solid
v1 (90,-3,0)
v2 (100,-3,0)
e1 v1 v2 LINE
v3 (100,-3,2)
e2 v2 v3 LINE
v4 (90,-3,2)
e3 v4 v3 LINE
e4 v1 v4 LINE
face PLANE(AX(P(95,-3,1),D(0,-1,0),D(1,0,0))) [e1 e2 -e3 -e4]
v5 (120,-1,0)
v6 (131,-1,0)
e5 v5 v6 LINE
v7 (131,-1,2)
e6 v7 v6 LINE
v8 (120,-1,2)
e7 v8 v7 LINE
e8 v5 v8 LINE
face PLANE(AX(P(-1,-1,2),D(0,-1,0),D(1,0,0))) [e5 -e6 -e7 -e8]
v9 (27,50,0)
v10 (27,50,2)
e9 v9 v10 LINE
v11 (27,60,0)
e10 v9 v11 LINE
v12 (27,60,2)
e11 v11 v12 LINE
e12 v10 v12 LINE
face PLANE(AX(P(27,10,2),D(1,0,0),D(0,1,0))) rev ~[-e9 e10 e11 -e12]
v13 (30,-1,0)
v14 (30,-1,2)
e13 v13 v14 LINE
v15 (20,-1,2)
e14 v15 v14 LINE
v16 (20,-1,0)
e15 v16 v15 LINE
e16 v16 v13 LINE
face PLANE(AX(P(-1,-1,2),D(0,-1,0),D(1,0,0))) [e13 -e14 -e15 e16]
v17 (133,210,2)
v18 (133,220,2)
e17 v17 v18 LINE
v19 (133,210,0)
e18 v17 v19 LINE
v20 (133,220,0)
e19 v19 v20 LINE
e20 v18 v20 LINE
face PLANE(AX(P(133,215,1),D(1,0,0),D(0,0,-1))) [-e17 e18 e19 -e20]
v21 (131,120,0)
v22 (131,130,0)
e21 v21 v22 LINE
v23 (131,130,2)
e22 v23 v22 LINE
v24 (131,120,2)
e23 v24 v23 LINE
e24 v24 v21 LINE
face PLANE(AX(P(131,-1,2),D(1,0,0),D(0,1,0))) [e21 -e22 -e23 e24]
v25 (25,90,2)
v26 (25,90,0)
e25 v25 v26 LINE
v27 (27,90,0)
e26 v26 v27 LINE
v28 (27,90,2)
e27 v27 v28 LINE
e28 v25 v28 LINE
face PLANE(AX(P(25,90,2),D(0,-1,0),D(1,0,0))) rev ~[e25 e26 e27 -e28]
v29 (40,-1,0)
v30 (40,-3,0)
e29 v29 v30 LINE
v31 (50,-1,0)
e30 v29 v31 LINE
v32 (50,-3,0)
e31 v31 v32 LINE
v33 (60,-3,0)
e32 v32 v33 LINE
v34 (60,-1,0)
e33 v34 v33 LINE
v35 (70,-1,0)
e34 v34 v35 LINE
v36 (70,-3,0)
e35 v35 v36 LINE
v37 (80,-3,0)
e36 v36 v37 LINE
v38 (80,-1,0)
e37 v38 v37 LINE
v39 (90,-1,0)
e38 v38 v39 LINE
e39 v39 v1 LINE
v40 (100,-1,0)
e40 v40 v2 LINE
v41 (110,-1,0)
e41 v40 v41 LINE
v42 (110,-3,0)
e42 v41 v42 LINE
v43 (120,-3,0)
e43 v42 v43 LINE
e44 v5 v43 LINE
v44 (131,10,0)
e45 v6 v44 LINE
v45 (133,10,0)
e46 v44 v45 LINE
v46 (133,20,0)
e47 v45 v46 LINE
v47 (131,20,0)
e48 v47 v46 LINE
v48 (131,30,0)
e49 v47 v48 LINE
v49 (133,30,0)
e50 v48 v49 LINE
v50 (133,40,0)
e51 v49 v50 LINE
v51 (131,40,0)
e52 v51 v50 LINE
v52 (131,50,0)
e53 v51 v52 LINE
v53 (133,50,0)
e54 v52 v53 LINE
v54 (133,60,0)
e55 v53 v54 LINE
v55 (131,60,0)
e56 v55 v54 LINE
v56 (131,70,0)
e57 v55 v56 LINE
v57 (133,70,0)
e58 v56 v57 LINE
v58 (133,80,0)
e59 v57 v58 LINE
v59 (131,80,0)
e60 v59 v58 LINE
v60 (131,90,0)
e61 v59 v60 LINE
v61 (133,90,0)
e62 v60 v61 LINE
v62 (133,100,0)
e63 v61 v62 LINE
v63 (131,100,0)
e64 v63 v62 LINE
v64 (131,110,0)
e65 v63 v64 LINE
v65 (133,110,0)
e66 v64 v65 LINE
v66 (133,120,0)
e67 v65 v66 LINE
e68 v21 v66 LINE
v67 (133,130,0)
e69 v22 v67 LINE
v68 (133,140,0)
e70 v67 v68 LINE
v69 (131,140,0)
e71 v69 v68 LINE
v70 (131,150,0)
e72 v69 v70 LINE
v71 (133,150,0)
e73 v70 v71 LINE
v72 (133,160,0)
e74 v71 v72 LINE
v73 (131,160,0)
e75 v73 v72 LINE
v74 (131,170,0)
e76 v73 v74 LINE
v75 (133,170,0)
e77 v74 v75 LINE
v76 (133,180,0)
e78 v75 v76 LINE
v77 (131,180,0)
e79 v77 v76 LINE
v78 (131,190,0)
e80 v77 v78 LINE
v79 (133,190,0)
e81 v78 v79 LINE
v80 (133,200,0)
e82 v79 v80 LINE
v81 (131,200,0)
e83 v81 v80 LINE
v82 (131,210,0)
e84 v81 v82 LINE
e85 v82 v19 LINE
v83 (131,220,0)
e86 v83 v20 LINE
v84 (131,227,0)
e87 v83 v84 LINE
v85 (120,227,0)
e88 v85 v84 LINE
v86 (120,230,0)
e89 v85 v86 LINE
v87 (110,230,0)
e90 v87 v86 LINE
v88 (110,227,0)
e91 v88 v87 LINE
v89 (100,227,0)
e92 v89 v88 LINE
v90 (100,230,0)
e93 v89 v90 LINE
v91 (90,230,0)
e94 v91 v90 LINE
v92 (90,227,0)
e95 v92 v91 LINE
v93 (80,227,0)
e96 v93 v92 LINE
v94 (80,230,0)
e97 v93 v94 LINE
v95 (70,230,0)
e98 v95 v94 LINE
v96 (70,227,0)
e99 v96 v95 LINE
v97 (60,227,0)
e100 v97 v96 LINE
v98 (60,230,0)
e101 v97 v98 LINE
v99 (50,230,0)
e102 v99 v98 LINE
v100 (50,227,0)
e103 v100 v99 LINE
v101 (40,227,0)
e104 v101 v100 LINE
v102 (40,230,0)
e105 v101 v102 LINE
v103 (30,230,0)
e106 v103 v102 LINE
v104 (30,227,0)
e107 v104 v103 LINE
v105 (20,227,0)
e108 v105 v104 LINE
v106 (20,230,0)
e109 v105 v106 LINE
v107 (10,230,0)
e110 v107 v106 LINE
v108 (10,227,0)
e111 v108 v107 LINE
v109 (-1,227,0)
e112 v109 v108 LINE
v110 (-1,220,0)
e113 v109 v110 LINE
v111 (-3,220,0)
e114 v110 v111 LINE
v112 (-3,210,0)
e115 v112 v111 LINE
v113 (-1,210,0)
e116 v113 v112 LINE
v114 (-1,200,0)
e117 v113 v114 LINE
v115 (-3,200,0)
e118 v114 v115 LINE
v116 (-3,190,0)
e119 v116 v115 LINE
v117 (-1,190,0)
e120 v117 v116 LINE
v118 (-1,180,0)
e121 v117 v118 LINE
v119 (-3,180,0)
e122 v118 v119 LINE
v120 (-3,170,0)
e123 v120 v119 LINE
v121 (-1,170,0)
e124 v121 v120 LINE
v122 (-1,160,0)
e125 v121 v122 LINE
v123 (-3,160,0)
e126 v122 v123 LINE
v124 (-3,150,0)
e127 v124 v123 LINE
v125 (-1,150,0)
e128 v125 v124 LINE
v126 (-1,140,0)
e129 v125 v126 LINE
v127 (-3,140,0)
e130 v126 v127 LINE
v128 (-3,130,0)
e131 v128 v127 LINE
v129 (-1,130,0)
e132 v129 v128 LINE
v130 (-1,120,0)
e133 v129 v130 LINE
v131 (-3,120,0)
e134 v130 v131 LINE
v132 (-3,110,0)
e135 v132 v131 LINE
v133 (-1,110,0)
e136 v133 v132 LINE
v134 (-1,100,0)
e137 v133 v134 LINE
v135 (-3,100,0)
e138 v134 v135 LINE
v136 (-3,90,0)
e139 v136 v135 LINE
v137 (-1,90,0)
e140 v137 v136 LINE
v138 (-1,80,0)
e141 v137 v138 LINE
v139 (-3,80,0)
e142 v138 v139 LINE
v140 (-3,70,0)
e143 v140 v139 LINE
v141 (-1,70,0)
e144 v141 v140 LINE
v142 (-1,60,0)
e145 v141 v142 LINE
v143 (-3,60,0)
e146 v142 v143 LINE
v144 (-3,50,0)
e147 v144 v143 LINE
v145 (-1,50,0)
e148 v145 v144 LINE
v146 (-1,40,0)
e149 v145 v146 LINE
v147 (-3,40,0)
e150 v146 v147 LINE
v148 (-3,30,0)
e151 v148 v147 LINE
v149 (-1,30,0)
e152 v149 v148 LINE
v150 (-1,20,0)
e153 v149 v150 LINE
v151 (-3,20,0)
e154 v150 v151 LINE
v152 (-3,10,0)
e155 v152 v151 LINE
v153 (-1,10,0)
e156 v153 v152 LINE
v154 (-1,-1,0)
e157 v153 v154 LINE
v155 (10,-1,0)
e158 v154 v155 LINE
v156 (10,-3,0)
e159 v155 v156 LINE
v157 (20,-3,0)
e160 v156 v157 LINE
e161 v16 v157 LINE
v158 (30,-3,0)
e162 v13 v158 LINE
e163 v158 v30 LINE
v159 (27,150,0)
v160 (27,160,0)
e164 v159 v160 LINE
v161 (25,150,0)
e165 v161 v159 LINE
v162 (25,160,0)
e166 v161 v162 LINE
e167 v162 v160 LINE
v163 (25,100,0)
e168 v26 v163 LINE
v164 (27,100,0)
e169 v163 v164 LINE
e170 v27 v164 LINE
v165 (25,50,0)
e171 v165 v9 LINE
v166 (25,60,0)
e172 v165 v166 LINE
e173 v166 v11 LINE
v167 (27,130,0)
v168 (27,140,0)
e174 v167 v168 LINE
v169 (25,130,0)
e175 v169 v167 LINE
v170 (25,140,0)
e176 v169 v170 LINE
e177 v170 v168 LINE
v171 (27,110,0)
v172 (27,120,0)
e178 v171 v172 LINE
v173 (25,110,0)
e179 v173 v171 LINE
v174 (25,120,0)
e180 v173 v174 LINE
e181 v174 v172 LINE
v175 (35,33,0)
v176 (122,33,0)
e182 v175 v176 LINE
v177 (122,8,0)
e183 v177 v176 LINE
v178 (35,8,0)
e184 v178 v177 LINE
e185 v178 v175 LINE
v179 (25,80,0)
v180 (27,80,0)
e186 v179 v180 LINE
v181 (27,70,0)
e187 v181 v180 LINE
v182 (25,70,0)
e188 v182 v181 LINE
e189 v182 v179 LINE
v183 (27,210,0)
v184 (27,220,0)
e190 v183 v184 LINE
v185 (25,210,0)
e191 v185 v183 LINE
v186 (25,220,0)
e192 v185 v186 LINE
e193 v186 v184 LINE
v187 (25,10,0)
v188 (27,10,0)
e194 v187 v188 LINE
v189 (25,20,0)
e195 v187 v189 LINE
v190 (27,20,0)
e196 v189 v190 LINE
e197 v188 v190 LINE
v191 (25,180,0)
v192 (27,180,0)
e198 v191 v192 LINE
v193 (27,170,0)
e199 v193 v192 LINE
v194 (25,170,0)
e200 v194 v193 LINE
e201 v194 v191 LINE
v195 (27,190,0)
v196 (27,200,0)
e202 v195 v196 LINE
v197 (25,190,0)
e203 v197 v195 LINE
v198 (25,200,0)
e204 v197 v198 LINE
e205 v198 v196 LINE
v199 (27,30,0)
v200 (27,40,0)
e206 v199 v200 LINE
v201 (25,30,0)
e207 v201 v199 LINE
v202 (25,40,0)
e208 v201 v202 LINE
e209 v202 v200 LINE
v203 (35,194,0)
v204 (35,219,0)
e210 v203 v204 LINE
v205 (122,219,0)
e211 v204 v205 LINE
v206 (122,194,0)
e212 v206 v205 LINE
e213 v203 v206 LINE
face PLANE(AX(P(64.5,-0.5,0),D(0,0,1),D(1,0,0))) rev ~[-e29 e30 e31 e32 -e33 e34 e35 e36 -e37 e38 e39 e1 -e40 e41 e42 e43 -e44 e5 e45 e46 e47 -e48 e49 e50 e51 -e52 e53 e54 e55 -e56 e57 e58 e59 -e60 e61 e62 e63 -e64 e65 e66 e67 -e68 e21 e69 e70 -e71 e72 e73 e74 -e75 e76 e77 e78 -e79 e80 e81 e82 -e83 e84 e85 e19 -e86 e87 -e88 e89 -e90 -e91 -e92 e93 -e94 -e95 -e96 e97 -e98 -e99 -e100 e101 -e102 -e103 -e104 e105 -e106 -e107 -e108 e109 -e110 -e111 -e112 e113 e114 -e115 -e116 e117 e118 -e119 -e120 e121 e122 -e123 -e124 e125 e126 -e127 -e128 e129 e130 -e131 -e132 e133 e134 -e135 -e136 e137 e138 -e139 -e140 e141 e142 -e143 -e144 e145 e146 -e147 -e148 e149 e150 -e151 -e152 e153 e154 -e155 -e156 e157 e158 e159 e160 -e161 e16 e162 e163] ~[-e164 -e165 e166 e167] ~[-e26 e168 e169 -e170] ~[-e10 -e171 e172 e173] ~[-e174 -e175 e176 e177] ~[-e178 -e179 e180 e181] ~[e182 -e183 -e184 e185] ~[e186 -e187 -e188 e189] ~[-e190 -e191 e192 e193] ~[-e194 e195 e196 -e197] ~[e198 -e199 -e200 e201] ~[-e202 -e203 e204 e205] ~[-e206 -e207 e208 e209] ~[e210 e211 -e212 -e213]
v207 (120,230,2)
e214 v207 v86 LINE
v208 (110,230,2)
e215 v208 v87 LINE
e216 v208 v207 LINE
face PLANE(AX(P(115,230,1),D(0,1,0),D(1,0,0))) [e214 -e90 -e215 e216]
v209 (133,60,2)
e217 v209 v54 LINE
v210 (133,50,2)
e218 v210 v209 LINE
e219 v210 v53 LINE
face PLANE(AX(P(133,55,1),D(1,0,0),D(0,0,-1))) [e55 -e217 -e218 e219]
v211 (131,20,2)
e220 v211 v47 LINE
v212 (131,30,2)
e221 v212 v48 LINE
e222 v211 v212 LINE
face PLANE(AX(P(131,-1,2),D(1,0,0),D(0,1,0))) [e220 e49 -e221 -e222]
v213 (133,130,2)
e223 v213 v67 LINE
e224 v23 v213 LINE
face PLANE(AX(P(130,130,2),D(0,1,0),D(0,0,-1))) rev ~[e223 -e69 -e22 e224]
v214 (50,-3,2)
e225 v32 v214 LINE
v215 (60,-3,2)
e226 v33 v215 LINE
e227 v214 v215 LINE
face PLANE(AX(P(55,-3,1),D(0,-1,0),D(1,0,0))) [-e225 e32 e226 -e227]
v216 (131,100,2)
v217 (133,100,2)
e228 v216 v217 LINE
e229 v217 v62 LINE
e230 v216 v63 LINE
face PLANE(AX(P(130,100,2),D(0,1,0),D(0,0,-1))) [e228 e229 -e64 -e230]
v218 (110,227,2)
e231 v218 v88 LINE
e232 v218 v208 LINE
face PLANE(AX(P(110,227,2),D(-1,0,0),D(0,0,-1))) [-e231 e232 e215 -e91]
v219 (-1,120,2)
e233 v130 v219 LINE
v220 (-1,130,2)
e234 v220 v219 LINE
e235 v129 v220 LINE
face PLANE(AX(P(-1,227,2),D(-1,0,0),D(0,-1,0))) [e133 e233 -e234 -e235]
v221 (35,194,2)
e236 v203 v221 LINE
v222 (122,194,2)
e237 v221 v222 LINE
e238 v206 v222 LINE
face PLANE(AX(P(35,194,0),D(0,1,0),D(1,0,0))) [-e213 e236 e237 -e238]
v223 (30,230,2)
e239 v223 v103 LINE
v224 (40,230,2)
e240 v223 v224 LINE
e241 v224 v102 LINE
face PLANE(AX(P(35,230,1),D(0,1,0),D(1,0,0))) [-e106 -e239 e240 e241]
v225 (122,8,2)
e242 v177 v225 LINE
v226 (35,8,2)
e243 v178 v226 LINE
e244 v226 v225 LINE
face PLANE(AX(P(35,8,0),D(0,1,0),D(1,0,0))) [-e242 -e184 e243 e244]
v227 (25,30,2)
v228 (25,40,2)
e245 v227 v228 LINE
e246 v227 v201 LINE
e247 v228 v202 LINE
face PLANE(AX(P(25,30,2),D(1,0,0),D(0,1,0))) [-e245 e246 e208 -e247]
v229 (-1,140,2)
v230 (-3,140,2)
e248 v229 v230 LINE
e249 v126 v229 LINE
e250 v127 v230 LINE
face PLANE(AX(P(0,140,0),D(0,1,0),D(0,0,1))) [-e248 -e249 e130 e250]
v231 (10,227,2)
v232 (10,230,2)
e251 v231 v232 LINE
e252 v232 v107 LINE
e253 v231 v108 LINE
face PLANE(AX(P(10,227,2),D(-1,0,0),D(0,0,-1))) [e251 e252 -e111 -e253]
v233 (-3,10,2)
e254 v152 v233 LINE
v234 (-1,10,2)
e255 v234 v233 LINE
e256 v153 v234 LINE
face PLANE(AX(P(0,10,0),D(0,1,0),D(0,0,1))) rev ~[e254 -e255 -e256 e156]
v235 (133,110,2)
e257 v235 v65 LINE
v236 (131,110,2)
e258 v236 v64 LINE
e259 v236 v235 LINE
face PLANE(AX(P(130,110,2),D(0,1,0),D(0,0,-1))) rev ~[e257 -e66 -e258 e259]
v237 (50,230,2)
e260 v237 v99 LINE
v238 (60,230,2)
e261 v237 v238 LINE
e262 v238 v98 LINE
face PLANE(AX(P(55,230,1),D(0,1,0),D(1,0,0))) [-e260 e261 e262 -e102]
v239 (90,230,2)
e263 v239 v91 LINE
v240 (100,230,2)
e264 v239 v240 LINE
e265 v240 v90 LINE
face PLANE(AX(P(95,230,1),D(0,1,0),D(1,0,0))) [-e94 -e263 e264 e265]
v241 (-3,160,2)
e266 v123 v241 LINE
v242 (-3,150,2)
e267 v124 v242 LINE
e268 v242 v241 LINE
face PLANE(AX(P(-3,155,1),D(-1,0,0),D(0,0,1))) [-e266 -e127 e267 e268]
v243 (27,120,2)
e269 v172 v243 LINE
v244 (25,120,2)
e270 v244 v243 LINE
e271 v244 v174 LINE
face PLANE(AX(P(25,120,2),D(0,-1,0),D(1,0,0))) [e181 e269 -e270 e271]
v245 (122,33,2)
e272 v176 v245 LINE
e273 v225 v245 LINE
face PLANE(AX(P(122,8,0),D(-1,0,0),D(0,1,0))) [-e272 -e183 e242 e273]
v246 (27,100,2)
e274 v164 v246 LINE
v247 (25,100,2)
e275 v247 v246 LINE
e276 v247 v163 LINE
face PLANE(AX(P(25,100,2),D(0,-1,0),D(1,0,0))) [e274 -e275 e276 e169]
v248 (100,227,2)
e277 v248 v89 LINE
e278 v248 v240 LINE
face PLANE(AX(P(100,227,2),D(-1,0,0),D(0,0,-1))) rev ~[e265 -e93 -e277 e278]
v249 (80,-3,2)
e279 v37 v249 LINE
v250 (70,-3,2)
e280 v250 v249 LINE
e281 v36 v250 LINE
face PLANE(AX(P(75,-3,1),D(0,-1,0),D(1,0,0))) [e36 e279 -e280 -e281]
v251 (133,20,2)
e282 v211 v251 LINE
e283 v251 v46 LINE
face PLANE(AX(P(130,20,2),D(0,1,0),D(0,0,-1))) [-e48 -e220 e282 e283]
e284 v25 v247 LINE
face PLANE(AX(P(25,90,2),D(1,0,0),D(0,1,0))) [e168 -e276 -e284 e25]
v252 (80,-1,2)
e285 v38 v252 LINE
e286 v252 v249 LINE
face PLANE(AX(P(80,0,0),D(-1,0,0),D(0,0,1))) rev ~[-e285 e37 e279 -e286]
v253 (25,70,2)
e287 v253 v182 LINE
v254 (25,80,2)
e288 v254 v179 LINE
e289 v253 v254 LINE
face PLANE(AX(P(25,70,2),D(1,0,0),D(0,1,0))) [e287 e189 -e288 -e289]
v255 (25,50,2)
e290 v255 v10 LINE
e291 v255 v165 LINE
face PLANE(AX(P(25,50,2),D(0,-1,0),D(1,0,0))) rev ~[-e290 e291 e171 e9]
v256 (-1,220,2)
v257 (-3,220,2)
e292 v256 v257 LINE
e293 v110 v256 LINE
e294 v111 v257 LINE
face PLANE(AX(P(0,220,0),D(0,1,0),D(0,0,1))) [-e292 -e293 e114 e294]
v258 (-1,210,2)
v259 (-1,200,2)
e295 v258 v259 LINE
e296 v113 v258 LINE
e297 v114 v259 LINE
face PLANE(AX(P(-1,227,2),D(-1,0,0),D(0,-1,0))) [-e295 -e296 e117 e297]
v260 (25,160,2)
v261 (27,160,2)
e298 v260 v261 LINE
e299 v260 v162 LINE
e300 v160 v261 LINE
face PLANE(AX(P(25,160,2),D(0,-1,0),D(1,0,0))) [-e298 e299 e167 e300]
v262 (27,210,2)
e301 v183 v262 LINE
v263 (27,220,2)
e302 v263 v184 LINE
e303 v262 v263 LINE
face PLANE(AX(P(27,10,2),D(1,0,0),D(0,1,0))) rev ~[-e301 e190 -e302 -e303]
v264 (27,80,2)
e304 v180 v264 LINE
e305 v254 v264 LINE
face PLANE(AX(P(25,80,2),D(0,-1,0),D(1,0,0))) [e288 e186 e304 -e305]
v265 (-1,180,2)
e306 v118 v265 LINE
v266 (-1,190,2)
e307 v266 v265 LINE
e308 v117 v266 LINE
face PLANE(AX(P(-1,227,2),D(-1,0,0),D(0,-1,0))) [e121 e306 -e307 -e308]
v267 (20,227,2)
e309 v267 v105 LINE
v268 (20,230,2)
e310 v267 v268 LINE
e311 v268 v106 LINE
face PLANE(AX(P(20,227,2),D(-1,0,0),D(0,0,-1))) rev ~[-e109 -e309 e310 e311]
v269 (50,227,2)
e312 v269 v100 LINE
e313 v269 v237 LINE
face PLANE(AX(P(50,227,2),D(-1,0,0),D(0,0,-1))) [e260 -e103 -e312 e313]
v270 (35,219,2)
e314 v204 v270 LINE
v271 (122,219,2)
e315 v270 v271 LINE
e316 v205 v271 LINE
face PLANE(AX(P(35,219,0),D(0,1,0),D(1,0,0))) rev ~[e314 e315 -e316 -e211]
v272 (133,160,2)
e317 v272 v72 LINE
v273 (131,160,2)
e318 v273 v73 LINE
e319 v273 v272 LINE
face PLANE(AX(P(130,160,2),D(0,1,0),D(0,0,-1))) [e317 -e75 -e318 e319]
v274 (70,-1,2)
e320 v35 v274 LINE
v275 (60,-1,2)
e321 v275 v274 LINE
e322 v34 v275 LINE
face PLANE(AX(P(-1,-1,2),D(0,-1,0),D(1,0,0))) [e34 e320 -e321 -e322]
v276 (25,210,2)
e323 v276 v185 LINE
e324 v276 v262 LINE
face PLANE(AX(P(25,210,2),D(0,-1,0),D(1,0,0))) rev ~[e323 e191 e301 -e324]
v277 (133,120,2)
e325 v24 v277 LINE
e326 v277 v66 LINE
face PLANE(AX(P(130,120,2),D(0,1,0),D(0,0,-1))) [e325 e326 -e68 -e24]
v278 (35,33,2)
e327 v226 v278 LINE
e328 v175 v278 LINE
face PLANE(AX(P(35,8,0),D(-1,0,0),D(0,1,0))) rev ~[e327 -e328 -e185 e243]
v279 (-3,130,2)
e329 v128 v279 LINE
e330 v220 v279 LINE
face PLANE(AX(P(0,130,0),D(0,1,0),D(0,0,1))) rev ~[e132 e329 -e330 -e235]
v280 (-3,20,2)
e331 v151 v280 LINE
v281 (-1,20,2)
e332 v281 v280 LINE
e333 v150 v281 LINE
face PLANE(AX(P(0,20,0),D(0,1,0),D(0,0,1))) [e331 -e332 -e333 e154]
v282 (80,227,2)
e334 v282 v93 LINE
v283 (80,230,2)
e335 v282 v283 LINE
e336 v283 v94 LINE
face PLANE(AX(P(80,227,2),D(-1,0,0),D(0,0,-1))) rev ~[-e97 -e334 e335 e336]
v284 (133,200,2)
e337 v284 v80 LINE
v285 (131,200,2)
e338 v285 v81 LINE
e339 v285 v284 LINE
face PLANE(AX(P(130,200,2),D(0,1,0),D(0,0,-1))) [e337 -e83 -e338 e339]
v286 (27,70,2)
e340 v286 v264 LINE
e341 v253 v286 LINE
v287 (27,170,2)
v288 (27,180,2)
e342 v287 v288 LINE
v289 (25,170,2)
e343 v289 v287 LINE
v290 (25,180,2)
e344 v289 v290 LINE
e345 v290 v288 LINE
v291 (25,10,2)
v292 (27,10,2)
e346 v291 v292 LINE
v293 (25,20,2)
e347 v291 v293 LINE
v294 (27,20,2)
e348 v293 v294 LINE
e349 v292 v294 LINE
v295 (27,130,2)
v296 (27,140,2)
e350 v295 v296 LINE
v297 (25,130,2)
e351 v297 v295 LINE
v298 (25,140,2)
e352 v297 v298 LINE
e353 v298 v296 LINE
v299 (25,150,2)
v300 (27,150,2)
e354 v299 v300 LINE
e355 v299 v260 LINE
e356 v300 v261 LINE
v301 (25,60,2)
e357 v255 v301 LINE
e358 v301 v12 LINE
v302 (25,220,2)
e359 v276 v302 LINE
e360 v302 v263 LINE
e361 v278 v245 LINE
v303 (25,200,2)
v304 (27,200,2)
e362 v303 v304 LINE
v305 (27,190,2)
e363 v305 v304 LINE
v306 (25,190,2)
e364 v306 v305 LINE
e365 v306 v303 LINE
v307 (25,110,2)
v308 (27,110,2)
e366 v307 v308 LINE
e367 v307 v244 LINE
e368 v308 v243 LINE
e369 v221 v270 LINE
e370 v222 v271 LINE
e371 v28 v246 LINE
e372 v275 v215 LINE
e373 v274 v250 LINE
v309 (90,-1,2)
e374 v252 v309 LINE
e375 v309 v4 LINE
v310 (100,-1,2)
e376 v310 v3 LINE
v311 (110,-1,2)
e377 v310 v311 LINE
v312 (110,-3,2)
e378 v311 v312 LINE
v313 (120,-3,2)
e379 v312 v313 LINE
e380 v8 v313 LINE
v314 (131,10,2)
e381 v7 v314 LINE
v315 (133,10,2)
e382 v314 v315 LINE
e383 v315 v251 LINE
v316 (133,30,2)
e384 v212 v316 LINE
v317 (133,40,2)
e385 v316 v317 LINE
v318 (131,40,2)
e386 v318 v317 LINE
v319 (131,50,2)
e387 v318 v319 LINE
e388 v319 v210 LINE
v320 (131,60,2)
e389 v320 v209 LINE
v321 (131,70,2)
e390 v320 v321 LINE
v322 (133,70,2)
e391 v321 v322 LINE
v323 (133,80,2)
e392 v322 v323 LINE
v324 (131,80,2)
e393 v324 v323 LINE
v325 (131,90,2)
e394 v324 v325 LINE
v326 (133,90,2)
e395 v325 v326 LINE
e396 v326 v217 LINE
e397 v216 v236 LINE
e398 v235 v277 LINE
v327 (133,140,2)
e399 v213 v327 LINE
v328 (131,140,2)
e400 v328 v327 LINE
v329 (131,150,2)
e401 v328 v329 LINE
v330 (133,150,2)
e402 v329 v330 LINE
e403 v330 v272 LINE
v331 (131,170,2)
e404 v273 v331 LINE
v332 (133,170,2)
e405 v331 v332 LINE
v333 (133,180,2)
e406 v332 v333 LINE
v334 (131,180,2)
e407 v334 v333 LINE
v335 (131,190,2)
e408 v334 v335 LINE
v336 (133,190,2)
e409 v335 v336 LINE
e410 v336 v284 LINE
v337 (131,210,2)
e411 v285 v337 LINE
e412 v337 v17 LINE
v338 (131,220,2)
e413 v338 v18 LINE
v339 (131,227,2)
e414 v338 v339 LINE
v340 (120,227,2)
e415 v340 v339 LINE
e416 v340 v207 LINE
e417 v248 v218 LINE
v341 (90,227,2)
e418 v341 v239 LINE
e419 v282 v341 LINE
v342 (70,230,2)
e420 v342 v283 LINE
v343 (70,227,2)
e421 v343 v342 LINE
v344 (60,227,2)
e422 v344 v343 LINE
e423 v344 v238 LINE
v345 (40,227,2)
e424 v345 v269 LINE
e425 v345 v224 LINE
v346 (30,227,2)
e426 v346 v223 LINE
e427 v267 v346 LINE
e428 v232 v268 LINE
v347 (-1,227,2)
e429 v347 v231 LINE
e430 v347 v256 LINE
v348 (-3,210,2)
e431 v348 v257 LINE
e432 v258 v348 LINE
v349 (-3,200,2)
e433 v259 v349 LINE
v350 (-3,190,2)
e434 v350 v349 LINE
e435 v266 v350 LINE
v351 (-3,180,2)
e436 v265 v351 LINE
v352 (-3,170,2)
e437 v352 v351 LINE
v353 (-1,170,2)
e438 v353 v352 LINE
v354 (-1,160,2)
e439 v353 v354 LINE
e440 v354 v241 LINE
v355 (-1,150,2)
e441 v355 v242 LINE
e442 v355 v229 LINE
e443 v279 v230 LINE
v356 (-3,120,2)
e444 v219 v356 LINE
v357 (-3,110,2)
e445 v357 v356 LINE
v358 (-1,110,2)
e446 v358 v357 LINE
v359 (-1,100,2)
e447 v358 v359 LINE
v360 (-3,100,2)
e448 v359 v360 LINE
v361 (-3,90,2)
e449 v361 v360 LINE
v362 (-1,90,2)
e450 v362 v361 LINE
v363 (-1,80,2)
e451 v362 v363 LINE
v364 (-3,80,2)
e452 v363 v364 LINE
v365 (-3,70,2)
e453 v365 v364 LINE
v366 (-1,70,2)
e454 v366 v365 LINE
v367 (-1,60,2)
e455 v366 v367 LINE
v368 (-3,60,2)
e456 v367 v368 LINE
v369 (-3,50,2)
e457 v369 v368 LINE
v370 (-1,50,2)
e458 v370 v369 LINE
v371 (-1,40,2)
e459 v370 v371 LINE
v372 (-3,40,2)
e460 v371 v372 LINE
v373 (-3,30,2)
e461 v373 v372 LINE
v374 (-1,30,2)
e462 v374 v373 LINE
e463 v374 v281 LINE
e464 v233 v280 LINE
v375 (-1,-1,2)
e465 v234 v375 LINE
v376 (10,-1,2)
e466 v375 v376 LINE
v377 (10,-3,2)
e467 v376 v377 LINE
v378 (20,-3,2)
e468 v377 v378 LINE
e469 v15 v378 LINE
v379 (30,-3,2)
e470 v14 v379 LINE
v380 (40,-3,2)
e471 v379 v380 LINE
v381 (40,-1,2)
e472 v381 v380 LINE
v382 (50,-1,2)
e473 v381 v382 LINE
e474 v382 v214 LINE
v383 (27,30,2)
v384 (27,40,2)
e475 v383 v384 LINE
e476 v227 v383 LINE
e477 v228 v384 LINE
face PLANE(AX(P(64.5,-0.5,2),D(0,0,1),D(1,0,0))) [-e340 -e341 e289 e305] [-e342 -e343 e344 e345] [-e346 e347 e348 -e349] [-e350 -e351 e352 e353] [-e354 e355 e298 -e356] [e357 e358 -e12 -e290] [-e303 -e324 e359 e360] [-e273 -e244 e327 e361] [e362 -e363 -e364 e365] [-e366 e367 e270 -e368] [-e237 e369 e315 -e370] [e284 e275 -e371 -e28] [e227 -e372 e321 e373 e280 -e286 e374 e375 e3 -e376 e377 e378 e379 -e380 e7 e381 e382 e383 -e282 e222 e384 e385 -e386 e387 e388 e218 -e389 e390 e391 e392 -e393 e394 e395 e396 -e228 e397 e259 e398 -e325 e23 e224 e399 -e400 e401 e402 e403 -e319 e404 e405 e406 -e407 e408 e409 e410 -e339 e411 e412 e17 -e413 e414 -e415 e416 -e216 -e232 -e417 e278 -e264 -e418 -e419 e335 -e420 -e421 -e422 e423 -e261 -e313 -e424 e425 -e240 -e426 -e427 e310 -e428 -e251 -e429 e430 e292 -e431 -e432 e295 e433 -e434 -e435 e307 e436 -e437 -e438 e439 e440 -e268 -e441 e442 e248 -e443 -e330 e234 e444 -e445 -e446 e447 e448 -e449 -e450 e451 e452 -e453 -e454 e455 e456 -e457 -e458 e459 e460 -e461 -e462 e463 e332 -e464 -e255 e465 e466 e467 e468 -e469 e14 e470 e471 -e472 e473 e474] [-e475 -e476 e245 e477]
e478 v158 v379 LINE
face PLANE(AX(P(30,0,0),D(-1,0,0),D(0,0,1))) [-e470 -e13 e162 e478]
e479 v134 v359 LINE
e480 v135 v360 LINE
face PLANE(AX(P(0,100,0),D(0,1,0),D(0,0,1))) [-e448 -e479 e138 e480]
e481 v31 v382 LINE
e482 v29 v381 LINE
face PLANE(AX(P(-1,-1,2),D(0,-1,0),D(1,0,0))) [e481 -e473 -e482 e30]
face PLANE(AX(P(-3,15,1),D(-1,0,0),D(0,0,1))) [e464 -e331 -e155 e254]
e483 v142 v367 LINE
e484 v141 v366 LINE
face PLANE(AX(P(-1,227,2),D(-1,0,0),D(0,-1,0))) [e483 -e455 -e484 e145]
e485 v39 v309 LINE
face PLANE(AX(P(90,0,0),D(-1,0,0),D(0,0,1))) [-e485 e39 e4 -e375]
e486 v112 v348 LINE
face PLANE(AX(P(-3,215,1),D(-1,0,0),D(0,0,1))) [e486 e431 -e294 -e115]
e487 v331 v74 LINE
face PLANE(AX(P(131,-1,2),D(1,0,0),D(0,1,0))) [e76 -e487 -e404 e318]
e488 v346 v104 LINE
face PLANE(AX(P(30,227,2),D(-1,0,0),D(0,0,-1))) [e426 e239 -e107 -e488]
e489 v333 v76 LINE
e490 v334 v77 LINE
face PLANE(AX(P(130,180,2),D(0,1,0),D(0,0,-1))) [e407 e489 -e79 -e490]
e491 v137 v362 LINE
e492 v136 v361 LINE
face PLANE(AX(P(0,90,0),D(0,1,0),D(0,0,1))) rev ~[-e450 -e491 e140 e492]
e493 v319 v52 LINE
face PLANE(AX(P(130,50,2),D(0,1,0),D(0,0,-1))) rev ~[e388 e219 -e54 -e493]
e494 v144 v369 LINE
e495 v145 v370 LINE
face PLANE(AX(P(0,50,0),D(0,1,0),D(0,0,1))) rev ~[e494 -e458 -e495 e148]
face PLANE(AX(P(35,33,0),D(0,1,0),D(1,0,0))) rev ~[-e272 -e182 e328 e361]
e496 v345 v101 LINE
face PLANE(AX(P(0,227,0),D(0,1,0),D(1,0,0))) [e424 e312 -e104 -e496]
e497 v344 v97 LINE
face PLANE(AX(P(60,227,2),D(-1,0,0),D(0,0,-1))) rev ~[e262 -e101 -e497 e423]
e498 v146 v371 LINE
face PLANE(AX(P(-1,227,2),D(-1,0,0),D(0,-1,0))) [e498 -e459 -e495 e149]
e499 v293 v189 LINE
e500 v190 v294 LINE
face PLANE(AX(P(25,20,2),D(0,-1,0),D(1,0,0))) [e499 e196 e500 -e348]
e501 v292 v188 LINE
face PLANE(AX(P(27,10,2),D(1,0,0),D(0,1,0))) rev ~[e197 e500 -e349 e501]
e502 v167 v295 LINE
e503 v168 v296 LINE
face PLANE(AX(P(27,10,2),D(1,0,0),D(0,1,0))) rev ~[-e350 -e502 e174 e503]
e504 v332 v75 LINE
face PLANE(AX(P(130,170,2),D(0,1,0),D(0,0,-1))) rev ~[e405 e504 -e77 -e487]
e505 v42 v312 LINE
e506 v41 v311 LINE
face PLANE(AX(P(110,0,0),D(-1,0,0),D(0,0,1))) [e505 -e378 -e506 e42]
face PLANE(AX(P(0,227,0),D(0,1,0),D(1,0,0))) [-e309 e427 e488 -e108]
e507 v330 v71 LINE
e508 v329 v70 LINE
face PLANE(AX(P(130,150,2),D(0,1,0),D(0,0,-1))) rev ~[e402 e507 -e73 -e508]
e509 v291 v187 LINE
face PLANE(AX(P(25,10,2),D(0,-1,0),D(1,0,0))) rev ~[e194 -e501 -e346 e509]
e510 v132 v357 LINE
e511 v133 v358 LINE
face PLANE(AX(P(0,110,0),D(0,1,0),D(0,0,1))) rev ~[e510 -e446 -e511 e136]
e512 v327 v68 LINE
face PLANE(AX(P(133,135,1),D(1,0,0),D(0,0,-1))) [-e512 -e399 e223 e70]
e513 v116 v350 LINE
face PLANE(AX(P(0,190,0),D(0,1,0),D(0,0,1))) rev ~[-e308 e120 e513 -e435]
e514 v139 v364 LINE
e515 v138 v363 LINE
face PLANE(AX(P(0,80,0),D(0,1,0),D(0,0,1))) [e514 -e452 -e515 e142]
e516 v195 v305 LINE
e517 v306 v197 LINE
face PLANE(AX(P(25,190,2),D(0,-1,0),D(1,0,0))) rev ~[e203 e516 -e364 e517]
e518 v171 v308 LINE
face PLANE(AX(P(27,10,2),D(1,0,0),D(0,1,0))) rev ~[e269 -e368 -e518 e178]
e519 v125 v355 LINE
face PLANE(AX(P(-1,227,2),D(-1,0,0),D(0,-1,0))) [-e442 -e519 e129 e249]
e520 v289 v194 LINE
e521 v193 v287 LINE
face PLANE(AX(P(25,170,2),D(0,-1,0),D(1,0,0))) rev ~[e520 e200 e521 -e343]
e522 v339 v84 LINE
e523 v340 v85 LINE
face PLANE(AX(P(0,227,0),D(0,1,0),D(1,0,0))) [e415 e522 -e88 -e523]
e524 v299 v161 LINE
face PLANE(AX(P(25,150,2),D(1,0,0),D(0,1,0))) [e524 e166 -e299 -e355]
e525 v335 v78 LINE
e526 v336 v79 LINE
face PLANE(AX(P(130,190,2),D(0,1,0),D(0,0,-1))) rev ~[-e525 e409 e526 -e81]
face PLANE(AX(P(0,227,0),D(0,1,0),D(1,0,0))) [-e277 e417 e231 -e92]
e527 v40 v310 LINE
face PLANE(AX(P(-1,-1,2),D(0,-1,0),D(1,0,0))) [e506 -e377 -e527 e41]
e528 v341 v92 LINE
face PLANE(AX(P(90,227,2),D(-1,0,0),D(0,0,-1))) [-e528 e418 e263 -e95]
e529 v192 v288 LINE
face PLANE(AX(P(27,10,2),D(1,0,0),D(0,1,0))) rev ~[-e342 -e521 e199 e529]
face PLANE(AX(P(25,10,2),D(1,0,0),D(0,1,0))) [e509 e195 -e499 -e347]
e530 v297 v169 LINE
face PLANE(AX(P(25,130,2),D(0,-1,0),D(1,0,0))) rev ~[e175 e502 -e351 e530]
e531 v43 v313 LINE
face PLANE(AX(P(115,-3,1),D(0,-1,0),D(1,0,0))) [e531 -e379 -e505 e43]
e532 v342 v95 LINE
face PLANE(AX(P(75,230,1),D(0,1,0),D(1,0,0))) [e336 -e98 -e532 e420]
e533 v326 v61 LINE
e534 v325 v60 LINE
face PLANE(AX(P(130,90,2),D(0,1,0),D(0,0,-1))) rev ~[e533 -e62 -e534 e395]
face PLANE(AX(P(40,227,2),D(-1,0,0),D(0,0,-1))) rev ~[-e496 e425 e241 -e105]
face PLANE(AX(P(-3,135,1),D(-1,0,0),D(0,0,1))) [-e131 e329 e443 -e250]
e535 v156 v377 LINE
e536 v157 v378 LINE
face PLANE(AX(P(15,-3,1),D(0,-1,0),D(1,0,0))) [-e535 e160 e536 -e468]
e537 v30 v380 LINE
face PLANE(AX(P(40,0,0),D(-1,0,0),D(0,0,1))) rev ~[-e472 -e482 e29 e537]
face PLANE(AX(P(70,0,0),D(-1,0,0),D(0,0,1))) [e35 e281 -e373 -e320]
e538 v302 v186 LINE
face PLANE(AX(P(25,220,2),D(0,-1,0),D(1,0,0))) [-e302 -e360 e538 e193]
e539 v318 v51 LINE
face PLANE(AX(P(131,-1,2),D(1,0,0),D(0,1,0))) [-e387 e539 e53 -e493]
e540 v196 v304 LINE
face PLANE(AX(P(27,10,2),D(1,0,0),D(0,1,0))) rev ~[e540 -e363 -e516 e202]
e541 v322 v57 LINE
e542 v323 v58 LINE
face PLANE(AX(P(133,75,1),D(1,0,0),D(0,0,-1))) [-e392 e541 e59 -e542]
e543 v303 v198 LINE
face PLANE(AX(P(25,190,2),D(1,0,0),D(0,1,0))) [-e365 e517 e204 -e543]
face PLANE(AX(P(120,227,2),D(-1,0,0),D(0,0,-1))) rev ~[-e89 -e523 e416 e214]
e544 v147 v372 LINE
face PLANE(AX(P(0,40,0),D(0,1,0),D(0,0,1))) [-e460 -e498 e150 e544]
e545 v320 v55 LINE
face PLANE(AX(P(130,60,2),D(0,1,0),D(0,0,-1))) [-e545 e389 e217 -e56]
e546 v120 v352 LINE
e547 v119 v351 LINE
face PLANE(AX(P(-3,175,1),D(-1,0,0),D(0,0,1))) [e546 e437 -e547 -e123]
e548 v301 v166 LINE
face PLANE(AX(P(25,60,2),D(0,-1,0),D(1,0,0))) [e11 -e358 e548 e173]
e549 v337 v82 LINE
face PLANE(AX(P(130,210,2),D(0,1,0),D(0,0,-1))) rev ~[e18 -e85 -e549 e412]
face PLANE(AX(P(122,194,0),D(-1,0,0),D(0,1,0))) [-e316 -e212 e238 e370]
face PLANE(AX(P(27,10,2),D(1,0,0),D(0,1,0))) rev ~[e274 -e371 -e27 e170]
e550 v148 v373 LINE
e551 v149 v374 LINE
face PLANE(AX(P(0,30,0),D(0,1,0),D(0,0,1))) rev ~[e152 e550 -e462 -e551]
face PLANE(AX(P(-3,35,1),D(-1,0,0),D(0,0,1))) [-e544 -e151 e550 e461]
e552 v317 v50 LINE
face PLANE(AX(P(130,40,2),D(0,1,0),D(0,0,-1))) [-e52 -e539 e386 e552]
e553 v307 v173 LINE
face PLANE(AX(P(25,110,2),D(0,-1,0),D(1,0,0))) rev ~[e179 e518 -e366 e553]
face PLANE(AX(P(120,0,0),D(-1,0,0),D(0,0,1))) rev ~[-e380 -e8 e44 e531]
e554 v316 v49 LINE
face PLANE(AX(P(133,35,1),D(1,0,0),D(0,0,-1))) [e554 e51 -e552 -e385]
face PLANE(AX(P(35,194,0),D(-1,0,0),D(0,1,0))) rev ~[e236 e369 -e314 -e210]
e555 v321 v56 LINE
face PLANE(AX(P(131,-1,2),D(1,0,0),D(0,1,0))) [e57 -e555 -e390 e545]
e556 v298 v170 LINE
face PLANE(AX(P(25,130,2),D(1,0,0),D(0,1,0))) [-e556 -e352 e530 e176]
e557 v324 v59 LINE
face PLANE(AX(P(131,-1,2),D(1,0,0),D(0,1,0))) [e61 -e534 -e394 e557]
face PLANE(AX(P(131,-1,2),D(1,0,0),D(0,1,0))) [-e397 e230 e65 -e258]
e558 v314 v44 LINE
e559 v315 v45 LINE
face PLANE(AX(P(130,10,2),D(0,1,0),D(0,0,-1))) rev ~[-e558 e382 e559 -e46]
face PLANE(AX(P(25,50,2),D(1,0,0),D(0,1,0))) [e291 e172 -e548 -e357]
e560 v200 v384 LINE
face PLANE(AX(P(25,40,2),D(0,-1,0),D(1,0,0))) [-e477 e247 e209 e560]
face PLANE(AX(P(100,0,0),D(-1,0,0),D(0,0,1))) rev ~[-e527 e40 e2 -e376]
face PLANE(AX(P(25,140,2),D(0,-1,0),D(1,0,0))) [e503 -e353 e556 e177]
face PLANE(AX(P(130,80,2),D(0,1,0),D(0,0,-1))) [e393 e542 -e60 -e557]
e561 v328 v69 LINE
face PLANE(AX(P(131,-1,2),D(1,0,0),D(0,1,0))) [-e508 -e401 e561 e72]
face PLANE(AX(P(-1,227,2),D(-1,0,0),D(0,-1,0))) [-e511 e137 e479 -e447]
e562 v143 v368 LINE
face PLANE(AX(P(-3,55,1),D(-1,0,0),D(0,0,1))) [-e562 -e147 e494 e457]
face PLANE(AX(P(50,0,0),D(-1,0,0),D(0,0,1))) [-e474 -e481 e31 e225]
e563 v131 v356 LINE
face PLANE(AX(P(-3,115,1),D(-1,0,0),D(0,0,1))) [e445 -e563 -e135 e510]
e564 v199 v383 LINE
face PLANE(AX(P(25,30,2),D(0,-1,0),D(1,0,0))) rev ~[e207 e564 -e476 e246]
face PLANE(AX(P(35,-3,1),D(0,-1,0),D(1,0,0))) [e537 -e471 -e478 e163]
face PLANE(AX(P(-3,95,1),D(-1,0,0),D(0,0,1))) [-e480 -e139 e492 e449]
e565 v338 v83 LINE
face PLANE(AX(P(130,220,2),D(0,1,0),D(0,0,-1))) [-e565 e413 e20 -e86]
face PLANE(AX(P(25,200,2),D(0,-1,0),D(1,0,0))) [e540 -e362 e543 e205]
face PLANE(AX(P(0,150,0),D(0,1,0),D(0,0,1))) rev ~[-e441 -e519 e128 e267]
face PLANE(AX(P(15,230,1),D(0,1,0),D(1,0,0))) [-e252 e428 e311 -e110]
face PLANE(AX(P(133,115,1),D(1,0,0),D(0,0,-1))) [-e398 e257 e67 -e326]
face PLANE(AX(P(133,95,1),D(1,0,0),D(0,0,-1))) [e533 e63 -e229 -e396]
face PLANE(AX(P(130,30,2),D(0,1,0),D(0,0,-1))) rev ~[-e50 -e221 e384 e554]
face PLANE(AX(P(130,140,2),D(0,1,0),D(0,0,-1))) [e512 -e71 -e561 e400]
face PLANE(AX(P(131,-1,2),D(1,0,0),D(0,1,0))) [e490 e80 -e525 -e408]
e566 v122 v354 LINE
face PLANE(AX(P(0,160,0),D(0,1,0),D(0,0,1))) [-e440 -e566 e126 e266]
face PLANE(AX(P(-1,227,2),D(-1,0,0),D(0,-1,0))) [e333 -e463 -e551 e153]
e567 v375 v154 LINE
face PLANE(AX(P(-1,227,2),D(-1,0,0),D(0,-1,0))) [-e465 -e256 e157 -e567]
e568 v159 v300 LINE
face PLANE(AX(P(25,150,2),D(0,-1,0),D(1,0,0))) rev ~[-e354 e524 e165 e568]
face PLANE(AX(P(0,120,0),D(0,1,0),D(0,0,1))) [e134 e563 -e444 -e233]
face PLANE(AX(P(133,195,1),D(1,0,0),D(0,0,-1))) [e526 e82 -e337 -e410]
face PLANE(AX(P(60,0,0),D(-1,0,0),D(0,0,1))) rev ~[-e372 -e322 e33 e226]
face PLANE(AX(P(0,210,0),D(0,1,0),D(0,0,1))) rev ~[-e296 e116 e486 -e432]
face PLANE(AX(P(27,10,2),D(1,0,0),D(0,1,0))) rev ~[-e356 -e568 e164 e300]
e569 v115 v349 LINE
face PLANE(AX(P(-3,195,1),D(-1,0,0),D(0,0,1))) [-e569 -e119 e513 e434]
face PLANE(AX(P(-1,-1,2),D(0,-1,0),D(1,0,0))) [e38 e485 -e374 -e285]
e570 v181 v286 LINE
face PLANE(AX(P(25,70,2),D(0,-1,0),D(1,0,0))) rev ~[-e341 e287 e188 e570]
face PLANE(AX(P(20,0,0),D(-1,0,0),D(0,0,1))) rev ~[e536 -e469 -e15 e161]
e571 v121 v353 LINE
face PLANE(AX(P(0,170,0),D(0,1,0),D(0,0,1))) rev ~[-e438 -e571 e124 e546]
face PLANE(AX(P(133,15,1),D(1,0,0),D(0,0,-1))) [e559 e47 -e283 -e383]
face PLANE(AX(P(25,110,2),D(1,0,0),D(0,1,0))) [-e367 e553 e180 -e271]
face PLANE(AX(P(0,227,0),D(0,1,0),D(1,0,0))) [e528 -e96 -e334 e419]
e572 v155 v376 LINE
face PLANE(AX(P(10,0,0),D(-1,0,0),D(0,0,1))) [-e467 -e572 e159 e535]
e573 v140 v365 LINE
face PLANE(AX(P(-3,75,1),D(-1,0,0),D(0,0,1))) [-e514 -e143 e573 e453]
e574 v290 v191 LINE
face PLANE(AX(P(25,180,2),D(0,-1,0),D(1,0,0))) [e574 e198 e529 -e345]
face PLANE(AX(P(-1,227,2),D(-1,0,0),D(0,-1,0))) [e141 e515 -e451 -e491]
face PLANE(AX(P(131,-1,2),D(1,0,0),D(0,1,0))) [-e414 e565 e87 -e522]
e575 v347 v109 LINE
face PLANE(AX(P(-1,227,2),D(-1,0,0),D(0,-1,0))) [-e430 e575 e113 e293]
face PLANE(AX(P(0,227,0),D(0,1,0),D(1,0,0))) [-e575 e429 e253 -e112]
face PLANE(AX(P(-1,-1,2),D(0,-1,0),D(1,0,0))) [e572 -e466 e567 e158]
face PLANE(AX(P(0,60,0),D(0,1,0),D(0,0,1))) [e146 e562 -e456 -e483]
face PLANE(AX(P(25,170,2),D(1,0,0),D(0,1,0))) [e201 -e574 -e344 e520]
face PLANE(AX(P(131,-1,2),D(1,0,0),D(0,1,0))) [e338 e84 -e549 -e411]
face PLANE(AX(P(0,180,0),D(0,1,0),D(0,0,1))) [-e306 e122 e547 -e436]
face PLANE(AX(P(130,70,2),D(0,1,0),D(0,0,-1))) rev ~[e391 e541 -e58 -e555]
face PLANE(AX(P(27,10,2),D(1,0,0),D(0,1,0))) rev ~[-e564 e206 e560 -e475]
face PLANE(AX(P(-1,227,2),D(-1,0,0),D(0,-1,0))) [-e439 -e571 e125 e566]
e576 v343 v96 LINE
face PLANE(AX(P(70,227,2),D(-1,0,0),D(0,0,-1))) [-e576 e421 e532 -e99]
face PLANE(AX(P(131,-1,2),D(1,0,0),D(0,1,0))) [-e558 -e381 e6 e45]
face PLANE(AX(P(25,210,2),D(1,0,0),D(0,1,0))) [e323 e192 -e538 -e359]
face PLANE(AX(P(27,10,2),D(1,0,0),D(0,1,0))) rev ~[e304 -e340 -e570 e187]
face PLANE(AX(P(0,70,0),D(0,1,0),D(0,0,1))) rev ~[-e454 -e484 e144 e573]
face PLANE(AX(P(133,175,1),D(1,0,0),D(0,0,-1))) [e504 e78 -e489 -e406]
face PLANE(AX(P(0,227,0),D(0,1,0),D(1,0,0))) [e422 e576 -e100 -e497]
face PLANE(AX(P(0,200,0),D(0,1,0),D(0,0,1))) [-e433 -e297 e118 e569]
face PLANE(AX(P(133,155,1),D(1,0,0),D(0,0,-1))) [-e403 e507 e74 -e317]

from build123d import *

# Parameters (mm, degrees)
SKETCH1_W           = 130
SKETCH1_H           = 227
SKETCH1_W_2         = 87
SKETCH1_H_2         = 25
BOSS_EXTRUDE1_DEPTH = 2
SKETCH2_W           = 10
SKETCH2_H           = 2
BOSS_EXTRUDE2_DEPTH = 3
LPATTERN1_COUNT     = 6
LPATTERN1_PITCH     = 20
SKETCH3_W           = 10
SKETCH3_H           = 2
BOSS_EXTRUDE3_DEPTH = 3
LPATTERN2_COUNT     = 6
LPATTERN2_PITCH     = 20
SKETCH4_W           = 2
SKETCH4_H           = 10
BOSS_EXTRUDE4_DEPTH = 3
LPATTERN3_COUNT     = 11
LPATTERN3_PITCH     = 20
SKETCH5_W           = 2
SKETCH5_H           = 10
BOSS_EXTRUDE5_DEPTH = 3
LPATTERN4_COUNT     = 11
LPATTERN4_PITCH     = 20
SKETCH6_W           = 3
SKETCH6_H           = 10
CUT_EXTRUDE1_DEPTH  = 3
LPATTERN5_COUNT     = 11
LPATTERN5_PITCH     = 20
ESQUISSE1_W         = 1
ESQUISSE1_H         = 210
ESQUISSE1_H_2       = 227
BOSS_EXTRU_1_DEPTH  = 2


with BuildPart() as part:
    # Sketch1 → Boss-Extrude1 (new body)
    with BuildSketch(Plane.XY):
        with Locations((65, 113.5)):
            Rectangle(SKETCH1_W, SKETCH1_H)
        with Locations((78.5, 20.5)):
            Rectangle(SKETCH1_W_2, SKETCH1_H_2, mode=Mode.SUBTRACT)
        with Locations((78.5, 206.5)):
            Rectangle(SKETCH1_W_2, SKETCH1_H_2, mode=Mode.SUBTRACT)
    extrude(amount=BOSS_EXTRUDE1_DEPTH)

    # Sketch2 → Boss-Extrude2 (add)
    with BuildSketch(Plane.XZ):
        with Locations((15, 1)):
            Rectangle(SKETCH2_W, SKETCH2_H)
    boss_extrude2 = extrude(amount=BOSS_EXTRUDE2_DEPTH)

    # LPattern1: Boss-Extrude2 ×6
    with Locations(*[(i * LPATTERN1_PITCH, 0, 0) for i in range(1, LPATTERN1_COUNT)]):
        add(boss_extrude2)

    # Sketch3 → Boss-Extrude3 (add)
    with BuildSketch(Plane(origin=(0, 227, 0), x_dir=(1, 0, 0), z_dir=(0, 1, 0))):
        with Locations((15, -1)):
            Rectangle(SKETCH3_W, SKETCH3_H)
    boss_extrude3 = extrude(amount=BOSS_EXTRUDE3_DEPTH)

    # LPattern2: Boss-Extrude3 ×6
    with Locations(*[(i * LPATTERN2_PITCH, 0, 0) for i in range(1, LPATTERN2_COUNT)]):
        add(boss_extrude3)

    # Sketch4 → Boss-Extrude4 (add)
    with BuildSketch(Plane(origin=(130, 0, 0), x_dir=(0, 0, -1), z_dir=(1, 0, 0))):
        with Locations((-1, 15)):
            Rectangle(SKETCH4_W, SKETCH4_H)
    boss_extrude4 = extrude(amount=BOSS_EXTRUDE4_DEPTH)

    # LPattern3: Boss-Extrude4 ×11
    with Locations(*[(0, i * LPATTERN3_PITCH, 0) for i in range(1, LPATTERN3_COUNT)]):
        add(boss_extrude4)

    # Sketch5 → Boss-Extrude5 (add)
    with BuildSketch(Plane.ZY):
        with Locations((1, 15)):
            Rectangle(SKETCH5_W, SKETCH5_H)
    boss_extrude5 = extrude(amount=BOSS_EXTRUDE5_DEPTH)

    # LPattern4: Boss-Extrude5 ×11
    with Locations(*[(0, i * LPATTERN4_PITCH, 0) for i in range(1, LPATTERN4_COUNT)]):
        add(boss_extrude5)

    # Sketch6 → Cut-Extrude1 (cut)
    with BuildSketch(Plane.XY.offset(2)):
        with Locations((26.5, 15)):
            Rectangle(SKETCH6_W, SKETCH6_H)
    cut_extrude1 = extrude(amount=-CUT_EXTRUDE1_DEPTH, mode=Mode.SUBTRACT)

    # LPattern5: Cut-Extrude1 ×11
    with Locations(*[(0, i * LPATTERN5_PITCH, 0) for i in range(1, LPATTERN5_COUNT)]):
        add(cut_extrude1, mode=Mode.SUBTRACT)

    # Esquisse1 → Boss.-Extru.1 (add)
    with BuildSketch(Plane.XY.offset(2)):
        Polygon((130, 0), (0, 0), (-1, 0), (-1, -1), (130, -1), align=None)
        with Locations((27.5, 115)):
            Rectangle(ESQUISSE1_W, ESQUISSE1_H)
        with Locations((-0.5, 113.5)):
            Rectangle(ESQUISSE1_W, ESQUISSE1_H_2)
        Polygon((130, 227), (130, 0), (130, -1), (131, -1), (131, 227), align=None)
    extrude(amount=-BOSS_EXTRU_1_DEPTH)


solid = part.part
